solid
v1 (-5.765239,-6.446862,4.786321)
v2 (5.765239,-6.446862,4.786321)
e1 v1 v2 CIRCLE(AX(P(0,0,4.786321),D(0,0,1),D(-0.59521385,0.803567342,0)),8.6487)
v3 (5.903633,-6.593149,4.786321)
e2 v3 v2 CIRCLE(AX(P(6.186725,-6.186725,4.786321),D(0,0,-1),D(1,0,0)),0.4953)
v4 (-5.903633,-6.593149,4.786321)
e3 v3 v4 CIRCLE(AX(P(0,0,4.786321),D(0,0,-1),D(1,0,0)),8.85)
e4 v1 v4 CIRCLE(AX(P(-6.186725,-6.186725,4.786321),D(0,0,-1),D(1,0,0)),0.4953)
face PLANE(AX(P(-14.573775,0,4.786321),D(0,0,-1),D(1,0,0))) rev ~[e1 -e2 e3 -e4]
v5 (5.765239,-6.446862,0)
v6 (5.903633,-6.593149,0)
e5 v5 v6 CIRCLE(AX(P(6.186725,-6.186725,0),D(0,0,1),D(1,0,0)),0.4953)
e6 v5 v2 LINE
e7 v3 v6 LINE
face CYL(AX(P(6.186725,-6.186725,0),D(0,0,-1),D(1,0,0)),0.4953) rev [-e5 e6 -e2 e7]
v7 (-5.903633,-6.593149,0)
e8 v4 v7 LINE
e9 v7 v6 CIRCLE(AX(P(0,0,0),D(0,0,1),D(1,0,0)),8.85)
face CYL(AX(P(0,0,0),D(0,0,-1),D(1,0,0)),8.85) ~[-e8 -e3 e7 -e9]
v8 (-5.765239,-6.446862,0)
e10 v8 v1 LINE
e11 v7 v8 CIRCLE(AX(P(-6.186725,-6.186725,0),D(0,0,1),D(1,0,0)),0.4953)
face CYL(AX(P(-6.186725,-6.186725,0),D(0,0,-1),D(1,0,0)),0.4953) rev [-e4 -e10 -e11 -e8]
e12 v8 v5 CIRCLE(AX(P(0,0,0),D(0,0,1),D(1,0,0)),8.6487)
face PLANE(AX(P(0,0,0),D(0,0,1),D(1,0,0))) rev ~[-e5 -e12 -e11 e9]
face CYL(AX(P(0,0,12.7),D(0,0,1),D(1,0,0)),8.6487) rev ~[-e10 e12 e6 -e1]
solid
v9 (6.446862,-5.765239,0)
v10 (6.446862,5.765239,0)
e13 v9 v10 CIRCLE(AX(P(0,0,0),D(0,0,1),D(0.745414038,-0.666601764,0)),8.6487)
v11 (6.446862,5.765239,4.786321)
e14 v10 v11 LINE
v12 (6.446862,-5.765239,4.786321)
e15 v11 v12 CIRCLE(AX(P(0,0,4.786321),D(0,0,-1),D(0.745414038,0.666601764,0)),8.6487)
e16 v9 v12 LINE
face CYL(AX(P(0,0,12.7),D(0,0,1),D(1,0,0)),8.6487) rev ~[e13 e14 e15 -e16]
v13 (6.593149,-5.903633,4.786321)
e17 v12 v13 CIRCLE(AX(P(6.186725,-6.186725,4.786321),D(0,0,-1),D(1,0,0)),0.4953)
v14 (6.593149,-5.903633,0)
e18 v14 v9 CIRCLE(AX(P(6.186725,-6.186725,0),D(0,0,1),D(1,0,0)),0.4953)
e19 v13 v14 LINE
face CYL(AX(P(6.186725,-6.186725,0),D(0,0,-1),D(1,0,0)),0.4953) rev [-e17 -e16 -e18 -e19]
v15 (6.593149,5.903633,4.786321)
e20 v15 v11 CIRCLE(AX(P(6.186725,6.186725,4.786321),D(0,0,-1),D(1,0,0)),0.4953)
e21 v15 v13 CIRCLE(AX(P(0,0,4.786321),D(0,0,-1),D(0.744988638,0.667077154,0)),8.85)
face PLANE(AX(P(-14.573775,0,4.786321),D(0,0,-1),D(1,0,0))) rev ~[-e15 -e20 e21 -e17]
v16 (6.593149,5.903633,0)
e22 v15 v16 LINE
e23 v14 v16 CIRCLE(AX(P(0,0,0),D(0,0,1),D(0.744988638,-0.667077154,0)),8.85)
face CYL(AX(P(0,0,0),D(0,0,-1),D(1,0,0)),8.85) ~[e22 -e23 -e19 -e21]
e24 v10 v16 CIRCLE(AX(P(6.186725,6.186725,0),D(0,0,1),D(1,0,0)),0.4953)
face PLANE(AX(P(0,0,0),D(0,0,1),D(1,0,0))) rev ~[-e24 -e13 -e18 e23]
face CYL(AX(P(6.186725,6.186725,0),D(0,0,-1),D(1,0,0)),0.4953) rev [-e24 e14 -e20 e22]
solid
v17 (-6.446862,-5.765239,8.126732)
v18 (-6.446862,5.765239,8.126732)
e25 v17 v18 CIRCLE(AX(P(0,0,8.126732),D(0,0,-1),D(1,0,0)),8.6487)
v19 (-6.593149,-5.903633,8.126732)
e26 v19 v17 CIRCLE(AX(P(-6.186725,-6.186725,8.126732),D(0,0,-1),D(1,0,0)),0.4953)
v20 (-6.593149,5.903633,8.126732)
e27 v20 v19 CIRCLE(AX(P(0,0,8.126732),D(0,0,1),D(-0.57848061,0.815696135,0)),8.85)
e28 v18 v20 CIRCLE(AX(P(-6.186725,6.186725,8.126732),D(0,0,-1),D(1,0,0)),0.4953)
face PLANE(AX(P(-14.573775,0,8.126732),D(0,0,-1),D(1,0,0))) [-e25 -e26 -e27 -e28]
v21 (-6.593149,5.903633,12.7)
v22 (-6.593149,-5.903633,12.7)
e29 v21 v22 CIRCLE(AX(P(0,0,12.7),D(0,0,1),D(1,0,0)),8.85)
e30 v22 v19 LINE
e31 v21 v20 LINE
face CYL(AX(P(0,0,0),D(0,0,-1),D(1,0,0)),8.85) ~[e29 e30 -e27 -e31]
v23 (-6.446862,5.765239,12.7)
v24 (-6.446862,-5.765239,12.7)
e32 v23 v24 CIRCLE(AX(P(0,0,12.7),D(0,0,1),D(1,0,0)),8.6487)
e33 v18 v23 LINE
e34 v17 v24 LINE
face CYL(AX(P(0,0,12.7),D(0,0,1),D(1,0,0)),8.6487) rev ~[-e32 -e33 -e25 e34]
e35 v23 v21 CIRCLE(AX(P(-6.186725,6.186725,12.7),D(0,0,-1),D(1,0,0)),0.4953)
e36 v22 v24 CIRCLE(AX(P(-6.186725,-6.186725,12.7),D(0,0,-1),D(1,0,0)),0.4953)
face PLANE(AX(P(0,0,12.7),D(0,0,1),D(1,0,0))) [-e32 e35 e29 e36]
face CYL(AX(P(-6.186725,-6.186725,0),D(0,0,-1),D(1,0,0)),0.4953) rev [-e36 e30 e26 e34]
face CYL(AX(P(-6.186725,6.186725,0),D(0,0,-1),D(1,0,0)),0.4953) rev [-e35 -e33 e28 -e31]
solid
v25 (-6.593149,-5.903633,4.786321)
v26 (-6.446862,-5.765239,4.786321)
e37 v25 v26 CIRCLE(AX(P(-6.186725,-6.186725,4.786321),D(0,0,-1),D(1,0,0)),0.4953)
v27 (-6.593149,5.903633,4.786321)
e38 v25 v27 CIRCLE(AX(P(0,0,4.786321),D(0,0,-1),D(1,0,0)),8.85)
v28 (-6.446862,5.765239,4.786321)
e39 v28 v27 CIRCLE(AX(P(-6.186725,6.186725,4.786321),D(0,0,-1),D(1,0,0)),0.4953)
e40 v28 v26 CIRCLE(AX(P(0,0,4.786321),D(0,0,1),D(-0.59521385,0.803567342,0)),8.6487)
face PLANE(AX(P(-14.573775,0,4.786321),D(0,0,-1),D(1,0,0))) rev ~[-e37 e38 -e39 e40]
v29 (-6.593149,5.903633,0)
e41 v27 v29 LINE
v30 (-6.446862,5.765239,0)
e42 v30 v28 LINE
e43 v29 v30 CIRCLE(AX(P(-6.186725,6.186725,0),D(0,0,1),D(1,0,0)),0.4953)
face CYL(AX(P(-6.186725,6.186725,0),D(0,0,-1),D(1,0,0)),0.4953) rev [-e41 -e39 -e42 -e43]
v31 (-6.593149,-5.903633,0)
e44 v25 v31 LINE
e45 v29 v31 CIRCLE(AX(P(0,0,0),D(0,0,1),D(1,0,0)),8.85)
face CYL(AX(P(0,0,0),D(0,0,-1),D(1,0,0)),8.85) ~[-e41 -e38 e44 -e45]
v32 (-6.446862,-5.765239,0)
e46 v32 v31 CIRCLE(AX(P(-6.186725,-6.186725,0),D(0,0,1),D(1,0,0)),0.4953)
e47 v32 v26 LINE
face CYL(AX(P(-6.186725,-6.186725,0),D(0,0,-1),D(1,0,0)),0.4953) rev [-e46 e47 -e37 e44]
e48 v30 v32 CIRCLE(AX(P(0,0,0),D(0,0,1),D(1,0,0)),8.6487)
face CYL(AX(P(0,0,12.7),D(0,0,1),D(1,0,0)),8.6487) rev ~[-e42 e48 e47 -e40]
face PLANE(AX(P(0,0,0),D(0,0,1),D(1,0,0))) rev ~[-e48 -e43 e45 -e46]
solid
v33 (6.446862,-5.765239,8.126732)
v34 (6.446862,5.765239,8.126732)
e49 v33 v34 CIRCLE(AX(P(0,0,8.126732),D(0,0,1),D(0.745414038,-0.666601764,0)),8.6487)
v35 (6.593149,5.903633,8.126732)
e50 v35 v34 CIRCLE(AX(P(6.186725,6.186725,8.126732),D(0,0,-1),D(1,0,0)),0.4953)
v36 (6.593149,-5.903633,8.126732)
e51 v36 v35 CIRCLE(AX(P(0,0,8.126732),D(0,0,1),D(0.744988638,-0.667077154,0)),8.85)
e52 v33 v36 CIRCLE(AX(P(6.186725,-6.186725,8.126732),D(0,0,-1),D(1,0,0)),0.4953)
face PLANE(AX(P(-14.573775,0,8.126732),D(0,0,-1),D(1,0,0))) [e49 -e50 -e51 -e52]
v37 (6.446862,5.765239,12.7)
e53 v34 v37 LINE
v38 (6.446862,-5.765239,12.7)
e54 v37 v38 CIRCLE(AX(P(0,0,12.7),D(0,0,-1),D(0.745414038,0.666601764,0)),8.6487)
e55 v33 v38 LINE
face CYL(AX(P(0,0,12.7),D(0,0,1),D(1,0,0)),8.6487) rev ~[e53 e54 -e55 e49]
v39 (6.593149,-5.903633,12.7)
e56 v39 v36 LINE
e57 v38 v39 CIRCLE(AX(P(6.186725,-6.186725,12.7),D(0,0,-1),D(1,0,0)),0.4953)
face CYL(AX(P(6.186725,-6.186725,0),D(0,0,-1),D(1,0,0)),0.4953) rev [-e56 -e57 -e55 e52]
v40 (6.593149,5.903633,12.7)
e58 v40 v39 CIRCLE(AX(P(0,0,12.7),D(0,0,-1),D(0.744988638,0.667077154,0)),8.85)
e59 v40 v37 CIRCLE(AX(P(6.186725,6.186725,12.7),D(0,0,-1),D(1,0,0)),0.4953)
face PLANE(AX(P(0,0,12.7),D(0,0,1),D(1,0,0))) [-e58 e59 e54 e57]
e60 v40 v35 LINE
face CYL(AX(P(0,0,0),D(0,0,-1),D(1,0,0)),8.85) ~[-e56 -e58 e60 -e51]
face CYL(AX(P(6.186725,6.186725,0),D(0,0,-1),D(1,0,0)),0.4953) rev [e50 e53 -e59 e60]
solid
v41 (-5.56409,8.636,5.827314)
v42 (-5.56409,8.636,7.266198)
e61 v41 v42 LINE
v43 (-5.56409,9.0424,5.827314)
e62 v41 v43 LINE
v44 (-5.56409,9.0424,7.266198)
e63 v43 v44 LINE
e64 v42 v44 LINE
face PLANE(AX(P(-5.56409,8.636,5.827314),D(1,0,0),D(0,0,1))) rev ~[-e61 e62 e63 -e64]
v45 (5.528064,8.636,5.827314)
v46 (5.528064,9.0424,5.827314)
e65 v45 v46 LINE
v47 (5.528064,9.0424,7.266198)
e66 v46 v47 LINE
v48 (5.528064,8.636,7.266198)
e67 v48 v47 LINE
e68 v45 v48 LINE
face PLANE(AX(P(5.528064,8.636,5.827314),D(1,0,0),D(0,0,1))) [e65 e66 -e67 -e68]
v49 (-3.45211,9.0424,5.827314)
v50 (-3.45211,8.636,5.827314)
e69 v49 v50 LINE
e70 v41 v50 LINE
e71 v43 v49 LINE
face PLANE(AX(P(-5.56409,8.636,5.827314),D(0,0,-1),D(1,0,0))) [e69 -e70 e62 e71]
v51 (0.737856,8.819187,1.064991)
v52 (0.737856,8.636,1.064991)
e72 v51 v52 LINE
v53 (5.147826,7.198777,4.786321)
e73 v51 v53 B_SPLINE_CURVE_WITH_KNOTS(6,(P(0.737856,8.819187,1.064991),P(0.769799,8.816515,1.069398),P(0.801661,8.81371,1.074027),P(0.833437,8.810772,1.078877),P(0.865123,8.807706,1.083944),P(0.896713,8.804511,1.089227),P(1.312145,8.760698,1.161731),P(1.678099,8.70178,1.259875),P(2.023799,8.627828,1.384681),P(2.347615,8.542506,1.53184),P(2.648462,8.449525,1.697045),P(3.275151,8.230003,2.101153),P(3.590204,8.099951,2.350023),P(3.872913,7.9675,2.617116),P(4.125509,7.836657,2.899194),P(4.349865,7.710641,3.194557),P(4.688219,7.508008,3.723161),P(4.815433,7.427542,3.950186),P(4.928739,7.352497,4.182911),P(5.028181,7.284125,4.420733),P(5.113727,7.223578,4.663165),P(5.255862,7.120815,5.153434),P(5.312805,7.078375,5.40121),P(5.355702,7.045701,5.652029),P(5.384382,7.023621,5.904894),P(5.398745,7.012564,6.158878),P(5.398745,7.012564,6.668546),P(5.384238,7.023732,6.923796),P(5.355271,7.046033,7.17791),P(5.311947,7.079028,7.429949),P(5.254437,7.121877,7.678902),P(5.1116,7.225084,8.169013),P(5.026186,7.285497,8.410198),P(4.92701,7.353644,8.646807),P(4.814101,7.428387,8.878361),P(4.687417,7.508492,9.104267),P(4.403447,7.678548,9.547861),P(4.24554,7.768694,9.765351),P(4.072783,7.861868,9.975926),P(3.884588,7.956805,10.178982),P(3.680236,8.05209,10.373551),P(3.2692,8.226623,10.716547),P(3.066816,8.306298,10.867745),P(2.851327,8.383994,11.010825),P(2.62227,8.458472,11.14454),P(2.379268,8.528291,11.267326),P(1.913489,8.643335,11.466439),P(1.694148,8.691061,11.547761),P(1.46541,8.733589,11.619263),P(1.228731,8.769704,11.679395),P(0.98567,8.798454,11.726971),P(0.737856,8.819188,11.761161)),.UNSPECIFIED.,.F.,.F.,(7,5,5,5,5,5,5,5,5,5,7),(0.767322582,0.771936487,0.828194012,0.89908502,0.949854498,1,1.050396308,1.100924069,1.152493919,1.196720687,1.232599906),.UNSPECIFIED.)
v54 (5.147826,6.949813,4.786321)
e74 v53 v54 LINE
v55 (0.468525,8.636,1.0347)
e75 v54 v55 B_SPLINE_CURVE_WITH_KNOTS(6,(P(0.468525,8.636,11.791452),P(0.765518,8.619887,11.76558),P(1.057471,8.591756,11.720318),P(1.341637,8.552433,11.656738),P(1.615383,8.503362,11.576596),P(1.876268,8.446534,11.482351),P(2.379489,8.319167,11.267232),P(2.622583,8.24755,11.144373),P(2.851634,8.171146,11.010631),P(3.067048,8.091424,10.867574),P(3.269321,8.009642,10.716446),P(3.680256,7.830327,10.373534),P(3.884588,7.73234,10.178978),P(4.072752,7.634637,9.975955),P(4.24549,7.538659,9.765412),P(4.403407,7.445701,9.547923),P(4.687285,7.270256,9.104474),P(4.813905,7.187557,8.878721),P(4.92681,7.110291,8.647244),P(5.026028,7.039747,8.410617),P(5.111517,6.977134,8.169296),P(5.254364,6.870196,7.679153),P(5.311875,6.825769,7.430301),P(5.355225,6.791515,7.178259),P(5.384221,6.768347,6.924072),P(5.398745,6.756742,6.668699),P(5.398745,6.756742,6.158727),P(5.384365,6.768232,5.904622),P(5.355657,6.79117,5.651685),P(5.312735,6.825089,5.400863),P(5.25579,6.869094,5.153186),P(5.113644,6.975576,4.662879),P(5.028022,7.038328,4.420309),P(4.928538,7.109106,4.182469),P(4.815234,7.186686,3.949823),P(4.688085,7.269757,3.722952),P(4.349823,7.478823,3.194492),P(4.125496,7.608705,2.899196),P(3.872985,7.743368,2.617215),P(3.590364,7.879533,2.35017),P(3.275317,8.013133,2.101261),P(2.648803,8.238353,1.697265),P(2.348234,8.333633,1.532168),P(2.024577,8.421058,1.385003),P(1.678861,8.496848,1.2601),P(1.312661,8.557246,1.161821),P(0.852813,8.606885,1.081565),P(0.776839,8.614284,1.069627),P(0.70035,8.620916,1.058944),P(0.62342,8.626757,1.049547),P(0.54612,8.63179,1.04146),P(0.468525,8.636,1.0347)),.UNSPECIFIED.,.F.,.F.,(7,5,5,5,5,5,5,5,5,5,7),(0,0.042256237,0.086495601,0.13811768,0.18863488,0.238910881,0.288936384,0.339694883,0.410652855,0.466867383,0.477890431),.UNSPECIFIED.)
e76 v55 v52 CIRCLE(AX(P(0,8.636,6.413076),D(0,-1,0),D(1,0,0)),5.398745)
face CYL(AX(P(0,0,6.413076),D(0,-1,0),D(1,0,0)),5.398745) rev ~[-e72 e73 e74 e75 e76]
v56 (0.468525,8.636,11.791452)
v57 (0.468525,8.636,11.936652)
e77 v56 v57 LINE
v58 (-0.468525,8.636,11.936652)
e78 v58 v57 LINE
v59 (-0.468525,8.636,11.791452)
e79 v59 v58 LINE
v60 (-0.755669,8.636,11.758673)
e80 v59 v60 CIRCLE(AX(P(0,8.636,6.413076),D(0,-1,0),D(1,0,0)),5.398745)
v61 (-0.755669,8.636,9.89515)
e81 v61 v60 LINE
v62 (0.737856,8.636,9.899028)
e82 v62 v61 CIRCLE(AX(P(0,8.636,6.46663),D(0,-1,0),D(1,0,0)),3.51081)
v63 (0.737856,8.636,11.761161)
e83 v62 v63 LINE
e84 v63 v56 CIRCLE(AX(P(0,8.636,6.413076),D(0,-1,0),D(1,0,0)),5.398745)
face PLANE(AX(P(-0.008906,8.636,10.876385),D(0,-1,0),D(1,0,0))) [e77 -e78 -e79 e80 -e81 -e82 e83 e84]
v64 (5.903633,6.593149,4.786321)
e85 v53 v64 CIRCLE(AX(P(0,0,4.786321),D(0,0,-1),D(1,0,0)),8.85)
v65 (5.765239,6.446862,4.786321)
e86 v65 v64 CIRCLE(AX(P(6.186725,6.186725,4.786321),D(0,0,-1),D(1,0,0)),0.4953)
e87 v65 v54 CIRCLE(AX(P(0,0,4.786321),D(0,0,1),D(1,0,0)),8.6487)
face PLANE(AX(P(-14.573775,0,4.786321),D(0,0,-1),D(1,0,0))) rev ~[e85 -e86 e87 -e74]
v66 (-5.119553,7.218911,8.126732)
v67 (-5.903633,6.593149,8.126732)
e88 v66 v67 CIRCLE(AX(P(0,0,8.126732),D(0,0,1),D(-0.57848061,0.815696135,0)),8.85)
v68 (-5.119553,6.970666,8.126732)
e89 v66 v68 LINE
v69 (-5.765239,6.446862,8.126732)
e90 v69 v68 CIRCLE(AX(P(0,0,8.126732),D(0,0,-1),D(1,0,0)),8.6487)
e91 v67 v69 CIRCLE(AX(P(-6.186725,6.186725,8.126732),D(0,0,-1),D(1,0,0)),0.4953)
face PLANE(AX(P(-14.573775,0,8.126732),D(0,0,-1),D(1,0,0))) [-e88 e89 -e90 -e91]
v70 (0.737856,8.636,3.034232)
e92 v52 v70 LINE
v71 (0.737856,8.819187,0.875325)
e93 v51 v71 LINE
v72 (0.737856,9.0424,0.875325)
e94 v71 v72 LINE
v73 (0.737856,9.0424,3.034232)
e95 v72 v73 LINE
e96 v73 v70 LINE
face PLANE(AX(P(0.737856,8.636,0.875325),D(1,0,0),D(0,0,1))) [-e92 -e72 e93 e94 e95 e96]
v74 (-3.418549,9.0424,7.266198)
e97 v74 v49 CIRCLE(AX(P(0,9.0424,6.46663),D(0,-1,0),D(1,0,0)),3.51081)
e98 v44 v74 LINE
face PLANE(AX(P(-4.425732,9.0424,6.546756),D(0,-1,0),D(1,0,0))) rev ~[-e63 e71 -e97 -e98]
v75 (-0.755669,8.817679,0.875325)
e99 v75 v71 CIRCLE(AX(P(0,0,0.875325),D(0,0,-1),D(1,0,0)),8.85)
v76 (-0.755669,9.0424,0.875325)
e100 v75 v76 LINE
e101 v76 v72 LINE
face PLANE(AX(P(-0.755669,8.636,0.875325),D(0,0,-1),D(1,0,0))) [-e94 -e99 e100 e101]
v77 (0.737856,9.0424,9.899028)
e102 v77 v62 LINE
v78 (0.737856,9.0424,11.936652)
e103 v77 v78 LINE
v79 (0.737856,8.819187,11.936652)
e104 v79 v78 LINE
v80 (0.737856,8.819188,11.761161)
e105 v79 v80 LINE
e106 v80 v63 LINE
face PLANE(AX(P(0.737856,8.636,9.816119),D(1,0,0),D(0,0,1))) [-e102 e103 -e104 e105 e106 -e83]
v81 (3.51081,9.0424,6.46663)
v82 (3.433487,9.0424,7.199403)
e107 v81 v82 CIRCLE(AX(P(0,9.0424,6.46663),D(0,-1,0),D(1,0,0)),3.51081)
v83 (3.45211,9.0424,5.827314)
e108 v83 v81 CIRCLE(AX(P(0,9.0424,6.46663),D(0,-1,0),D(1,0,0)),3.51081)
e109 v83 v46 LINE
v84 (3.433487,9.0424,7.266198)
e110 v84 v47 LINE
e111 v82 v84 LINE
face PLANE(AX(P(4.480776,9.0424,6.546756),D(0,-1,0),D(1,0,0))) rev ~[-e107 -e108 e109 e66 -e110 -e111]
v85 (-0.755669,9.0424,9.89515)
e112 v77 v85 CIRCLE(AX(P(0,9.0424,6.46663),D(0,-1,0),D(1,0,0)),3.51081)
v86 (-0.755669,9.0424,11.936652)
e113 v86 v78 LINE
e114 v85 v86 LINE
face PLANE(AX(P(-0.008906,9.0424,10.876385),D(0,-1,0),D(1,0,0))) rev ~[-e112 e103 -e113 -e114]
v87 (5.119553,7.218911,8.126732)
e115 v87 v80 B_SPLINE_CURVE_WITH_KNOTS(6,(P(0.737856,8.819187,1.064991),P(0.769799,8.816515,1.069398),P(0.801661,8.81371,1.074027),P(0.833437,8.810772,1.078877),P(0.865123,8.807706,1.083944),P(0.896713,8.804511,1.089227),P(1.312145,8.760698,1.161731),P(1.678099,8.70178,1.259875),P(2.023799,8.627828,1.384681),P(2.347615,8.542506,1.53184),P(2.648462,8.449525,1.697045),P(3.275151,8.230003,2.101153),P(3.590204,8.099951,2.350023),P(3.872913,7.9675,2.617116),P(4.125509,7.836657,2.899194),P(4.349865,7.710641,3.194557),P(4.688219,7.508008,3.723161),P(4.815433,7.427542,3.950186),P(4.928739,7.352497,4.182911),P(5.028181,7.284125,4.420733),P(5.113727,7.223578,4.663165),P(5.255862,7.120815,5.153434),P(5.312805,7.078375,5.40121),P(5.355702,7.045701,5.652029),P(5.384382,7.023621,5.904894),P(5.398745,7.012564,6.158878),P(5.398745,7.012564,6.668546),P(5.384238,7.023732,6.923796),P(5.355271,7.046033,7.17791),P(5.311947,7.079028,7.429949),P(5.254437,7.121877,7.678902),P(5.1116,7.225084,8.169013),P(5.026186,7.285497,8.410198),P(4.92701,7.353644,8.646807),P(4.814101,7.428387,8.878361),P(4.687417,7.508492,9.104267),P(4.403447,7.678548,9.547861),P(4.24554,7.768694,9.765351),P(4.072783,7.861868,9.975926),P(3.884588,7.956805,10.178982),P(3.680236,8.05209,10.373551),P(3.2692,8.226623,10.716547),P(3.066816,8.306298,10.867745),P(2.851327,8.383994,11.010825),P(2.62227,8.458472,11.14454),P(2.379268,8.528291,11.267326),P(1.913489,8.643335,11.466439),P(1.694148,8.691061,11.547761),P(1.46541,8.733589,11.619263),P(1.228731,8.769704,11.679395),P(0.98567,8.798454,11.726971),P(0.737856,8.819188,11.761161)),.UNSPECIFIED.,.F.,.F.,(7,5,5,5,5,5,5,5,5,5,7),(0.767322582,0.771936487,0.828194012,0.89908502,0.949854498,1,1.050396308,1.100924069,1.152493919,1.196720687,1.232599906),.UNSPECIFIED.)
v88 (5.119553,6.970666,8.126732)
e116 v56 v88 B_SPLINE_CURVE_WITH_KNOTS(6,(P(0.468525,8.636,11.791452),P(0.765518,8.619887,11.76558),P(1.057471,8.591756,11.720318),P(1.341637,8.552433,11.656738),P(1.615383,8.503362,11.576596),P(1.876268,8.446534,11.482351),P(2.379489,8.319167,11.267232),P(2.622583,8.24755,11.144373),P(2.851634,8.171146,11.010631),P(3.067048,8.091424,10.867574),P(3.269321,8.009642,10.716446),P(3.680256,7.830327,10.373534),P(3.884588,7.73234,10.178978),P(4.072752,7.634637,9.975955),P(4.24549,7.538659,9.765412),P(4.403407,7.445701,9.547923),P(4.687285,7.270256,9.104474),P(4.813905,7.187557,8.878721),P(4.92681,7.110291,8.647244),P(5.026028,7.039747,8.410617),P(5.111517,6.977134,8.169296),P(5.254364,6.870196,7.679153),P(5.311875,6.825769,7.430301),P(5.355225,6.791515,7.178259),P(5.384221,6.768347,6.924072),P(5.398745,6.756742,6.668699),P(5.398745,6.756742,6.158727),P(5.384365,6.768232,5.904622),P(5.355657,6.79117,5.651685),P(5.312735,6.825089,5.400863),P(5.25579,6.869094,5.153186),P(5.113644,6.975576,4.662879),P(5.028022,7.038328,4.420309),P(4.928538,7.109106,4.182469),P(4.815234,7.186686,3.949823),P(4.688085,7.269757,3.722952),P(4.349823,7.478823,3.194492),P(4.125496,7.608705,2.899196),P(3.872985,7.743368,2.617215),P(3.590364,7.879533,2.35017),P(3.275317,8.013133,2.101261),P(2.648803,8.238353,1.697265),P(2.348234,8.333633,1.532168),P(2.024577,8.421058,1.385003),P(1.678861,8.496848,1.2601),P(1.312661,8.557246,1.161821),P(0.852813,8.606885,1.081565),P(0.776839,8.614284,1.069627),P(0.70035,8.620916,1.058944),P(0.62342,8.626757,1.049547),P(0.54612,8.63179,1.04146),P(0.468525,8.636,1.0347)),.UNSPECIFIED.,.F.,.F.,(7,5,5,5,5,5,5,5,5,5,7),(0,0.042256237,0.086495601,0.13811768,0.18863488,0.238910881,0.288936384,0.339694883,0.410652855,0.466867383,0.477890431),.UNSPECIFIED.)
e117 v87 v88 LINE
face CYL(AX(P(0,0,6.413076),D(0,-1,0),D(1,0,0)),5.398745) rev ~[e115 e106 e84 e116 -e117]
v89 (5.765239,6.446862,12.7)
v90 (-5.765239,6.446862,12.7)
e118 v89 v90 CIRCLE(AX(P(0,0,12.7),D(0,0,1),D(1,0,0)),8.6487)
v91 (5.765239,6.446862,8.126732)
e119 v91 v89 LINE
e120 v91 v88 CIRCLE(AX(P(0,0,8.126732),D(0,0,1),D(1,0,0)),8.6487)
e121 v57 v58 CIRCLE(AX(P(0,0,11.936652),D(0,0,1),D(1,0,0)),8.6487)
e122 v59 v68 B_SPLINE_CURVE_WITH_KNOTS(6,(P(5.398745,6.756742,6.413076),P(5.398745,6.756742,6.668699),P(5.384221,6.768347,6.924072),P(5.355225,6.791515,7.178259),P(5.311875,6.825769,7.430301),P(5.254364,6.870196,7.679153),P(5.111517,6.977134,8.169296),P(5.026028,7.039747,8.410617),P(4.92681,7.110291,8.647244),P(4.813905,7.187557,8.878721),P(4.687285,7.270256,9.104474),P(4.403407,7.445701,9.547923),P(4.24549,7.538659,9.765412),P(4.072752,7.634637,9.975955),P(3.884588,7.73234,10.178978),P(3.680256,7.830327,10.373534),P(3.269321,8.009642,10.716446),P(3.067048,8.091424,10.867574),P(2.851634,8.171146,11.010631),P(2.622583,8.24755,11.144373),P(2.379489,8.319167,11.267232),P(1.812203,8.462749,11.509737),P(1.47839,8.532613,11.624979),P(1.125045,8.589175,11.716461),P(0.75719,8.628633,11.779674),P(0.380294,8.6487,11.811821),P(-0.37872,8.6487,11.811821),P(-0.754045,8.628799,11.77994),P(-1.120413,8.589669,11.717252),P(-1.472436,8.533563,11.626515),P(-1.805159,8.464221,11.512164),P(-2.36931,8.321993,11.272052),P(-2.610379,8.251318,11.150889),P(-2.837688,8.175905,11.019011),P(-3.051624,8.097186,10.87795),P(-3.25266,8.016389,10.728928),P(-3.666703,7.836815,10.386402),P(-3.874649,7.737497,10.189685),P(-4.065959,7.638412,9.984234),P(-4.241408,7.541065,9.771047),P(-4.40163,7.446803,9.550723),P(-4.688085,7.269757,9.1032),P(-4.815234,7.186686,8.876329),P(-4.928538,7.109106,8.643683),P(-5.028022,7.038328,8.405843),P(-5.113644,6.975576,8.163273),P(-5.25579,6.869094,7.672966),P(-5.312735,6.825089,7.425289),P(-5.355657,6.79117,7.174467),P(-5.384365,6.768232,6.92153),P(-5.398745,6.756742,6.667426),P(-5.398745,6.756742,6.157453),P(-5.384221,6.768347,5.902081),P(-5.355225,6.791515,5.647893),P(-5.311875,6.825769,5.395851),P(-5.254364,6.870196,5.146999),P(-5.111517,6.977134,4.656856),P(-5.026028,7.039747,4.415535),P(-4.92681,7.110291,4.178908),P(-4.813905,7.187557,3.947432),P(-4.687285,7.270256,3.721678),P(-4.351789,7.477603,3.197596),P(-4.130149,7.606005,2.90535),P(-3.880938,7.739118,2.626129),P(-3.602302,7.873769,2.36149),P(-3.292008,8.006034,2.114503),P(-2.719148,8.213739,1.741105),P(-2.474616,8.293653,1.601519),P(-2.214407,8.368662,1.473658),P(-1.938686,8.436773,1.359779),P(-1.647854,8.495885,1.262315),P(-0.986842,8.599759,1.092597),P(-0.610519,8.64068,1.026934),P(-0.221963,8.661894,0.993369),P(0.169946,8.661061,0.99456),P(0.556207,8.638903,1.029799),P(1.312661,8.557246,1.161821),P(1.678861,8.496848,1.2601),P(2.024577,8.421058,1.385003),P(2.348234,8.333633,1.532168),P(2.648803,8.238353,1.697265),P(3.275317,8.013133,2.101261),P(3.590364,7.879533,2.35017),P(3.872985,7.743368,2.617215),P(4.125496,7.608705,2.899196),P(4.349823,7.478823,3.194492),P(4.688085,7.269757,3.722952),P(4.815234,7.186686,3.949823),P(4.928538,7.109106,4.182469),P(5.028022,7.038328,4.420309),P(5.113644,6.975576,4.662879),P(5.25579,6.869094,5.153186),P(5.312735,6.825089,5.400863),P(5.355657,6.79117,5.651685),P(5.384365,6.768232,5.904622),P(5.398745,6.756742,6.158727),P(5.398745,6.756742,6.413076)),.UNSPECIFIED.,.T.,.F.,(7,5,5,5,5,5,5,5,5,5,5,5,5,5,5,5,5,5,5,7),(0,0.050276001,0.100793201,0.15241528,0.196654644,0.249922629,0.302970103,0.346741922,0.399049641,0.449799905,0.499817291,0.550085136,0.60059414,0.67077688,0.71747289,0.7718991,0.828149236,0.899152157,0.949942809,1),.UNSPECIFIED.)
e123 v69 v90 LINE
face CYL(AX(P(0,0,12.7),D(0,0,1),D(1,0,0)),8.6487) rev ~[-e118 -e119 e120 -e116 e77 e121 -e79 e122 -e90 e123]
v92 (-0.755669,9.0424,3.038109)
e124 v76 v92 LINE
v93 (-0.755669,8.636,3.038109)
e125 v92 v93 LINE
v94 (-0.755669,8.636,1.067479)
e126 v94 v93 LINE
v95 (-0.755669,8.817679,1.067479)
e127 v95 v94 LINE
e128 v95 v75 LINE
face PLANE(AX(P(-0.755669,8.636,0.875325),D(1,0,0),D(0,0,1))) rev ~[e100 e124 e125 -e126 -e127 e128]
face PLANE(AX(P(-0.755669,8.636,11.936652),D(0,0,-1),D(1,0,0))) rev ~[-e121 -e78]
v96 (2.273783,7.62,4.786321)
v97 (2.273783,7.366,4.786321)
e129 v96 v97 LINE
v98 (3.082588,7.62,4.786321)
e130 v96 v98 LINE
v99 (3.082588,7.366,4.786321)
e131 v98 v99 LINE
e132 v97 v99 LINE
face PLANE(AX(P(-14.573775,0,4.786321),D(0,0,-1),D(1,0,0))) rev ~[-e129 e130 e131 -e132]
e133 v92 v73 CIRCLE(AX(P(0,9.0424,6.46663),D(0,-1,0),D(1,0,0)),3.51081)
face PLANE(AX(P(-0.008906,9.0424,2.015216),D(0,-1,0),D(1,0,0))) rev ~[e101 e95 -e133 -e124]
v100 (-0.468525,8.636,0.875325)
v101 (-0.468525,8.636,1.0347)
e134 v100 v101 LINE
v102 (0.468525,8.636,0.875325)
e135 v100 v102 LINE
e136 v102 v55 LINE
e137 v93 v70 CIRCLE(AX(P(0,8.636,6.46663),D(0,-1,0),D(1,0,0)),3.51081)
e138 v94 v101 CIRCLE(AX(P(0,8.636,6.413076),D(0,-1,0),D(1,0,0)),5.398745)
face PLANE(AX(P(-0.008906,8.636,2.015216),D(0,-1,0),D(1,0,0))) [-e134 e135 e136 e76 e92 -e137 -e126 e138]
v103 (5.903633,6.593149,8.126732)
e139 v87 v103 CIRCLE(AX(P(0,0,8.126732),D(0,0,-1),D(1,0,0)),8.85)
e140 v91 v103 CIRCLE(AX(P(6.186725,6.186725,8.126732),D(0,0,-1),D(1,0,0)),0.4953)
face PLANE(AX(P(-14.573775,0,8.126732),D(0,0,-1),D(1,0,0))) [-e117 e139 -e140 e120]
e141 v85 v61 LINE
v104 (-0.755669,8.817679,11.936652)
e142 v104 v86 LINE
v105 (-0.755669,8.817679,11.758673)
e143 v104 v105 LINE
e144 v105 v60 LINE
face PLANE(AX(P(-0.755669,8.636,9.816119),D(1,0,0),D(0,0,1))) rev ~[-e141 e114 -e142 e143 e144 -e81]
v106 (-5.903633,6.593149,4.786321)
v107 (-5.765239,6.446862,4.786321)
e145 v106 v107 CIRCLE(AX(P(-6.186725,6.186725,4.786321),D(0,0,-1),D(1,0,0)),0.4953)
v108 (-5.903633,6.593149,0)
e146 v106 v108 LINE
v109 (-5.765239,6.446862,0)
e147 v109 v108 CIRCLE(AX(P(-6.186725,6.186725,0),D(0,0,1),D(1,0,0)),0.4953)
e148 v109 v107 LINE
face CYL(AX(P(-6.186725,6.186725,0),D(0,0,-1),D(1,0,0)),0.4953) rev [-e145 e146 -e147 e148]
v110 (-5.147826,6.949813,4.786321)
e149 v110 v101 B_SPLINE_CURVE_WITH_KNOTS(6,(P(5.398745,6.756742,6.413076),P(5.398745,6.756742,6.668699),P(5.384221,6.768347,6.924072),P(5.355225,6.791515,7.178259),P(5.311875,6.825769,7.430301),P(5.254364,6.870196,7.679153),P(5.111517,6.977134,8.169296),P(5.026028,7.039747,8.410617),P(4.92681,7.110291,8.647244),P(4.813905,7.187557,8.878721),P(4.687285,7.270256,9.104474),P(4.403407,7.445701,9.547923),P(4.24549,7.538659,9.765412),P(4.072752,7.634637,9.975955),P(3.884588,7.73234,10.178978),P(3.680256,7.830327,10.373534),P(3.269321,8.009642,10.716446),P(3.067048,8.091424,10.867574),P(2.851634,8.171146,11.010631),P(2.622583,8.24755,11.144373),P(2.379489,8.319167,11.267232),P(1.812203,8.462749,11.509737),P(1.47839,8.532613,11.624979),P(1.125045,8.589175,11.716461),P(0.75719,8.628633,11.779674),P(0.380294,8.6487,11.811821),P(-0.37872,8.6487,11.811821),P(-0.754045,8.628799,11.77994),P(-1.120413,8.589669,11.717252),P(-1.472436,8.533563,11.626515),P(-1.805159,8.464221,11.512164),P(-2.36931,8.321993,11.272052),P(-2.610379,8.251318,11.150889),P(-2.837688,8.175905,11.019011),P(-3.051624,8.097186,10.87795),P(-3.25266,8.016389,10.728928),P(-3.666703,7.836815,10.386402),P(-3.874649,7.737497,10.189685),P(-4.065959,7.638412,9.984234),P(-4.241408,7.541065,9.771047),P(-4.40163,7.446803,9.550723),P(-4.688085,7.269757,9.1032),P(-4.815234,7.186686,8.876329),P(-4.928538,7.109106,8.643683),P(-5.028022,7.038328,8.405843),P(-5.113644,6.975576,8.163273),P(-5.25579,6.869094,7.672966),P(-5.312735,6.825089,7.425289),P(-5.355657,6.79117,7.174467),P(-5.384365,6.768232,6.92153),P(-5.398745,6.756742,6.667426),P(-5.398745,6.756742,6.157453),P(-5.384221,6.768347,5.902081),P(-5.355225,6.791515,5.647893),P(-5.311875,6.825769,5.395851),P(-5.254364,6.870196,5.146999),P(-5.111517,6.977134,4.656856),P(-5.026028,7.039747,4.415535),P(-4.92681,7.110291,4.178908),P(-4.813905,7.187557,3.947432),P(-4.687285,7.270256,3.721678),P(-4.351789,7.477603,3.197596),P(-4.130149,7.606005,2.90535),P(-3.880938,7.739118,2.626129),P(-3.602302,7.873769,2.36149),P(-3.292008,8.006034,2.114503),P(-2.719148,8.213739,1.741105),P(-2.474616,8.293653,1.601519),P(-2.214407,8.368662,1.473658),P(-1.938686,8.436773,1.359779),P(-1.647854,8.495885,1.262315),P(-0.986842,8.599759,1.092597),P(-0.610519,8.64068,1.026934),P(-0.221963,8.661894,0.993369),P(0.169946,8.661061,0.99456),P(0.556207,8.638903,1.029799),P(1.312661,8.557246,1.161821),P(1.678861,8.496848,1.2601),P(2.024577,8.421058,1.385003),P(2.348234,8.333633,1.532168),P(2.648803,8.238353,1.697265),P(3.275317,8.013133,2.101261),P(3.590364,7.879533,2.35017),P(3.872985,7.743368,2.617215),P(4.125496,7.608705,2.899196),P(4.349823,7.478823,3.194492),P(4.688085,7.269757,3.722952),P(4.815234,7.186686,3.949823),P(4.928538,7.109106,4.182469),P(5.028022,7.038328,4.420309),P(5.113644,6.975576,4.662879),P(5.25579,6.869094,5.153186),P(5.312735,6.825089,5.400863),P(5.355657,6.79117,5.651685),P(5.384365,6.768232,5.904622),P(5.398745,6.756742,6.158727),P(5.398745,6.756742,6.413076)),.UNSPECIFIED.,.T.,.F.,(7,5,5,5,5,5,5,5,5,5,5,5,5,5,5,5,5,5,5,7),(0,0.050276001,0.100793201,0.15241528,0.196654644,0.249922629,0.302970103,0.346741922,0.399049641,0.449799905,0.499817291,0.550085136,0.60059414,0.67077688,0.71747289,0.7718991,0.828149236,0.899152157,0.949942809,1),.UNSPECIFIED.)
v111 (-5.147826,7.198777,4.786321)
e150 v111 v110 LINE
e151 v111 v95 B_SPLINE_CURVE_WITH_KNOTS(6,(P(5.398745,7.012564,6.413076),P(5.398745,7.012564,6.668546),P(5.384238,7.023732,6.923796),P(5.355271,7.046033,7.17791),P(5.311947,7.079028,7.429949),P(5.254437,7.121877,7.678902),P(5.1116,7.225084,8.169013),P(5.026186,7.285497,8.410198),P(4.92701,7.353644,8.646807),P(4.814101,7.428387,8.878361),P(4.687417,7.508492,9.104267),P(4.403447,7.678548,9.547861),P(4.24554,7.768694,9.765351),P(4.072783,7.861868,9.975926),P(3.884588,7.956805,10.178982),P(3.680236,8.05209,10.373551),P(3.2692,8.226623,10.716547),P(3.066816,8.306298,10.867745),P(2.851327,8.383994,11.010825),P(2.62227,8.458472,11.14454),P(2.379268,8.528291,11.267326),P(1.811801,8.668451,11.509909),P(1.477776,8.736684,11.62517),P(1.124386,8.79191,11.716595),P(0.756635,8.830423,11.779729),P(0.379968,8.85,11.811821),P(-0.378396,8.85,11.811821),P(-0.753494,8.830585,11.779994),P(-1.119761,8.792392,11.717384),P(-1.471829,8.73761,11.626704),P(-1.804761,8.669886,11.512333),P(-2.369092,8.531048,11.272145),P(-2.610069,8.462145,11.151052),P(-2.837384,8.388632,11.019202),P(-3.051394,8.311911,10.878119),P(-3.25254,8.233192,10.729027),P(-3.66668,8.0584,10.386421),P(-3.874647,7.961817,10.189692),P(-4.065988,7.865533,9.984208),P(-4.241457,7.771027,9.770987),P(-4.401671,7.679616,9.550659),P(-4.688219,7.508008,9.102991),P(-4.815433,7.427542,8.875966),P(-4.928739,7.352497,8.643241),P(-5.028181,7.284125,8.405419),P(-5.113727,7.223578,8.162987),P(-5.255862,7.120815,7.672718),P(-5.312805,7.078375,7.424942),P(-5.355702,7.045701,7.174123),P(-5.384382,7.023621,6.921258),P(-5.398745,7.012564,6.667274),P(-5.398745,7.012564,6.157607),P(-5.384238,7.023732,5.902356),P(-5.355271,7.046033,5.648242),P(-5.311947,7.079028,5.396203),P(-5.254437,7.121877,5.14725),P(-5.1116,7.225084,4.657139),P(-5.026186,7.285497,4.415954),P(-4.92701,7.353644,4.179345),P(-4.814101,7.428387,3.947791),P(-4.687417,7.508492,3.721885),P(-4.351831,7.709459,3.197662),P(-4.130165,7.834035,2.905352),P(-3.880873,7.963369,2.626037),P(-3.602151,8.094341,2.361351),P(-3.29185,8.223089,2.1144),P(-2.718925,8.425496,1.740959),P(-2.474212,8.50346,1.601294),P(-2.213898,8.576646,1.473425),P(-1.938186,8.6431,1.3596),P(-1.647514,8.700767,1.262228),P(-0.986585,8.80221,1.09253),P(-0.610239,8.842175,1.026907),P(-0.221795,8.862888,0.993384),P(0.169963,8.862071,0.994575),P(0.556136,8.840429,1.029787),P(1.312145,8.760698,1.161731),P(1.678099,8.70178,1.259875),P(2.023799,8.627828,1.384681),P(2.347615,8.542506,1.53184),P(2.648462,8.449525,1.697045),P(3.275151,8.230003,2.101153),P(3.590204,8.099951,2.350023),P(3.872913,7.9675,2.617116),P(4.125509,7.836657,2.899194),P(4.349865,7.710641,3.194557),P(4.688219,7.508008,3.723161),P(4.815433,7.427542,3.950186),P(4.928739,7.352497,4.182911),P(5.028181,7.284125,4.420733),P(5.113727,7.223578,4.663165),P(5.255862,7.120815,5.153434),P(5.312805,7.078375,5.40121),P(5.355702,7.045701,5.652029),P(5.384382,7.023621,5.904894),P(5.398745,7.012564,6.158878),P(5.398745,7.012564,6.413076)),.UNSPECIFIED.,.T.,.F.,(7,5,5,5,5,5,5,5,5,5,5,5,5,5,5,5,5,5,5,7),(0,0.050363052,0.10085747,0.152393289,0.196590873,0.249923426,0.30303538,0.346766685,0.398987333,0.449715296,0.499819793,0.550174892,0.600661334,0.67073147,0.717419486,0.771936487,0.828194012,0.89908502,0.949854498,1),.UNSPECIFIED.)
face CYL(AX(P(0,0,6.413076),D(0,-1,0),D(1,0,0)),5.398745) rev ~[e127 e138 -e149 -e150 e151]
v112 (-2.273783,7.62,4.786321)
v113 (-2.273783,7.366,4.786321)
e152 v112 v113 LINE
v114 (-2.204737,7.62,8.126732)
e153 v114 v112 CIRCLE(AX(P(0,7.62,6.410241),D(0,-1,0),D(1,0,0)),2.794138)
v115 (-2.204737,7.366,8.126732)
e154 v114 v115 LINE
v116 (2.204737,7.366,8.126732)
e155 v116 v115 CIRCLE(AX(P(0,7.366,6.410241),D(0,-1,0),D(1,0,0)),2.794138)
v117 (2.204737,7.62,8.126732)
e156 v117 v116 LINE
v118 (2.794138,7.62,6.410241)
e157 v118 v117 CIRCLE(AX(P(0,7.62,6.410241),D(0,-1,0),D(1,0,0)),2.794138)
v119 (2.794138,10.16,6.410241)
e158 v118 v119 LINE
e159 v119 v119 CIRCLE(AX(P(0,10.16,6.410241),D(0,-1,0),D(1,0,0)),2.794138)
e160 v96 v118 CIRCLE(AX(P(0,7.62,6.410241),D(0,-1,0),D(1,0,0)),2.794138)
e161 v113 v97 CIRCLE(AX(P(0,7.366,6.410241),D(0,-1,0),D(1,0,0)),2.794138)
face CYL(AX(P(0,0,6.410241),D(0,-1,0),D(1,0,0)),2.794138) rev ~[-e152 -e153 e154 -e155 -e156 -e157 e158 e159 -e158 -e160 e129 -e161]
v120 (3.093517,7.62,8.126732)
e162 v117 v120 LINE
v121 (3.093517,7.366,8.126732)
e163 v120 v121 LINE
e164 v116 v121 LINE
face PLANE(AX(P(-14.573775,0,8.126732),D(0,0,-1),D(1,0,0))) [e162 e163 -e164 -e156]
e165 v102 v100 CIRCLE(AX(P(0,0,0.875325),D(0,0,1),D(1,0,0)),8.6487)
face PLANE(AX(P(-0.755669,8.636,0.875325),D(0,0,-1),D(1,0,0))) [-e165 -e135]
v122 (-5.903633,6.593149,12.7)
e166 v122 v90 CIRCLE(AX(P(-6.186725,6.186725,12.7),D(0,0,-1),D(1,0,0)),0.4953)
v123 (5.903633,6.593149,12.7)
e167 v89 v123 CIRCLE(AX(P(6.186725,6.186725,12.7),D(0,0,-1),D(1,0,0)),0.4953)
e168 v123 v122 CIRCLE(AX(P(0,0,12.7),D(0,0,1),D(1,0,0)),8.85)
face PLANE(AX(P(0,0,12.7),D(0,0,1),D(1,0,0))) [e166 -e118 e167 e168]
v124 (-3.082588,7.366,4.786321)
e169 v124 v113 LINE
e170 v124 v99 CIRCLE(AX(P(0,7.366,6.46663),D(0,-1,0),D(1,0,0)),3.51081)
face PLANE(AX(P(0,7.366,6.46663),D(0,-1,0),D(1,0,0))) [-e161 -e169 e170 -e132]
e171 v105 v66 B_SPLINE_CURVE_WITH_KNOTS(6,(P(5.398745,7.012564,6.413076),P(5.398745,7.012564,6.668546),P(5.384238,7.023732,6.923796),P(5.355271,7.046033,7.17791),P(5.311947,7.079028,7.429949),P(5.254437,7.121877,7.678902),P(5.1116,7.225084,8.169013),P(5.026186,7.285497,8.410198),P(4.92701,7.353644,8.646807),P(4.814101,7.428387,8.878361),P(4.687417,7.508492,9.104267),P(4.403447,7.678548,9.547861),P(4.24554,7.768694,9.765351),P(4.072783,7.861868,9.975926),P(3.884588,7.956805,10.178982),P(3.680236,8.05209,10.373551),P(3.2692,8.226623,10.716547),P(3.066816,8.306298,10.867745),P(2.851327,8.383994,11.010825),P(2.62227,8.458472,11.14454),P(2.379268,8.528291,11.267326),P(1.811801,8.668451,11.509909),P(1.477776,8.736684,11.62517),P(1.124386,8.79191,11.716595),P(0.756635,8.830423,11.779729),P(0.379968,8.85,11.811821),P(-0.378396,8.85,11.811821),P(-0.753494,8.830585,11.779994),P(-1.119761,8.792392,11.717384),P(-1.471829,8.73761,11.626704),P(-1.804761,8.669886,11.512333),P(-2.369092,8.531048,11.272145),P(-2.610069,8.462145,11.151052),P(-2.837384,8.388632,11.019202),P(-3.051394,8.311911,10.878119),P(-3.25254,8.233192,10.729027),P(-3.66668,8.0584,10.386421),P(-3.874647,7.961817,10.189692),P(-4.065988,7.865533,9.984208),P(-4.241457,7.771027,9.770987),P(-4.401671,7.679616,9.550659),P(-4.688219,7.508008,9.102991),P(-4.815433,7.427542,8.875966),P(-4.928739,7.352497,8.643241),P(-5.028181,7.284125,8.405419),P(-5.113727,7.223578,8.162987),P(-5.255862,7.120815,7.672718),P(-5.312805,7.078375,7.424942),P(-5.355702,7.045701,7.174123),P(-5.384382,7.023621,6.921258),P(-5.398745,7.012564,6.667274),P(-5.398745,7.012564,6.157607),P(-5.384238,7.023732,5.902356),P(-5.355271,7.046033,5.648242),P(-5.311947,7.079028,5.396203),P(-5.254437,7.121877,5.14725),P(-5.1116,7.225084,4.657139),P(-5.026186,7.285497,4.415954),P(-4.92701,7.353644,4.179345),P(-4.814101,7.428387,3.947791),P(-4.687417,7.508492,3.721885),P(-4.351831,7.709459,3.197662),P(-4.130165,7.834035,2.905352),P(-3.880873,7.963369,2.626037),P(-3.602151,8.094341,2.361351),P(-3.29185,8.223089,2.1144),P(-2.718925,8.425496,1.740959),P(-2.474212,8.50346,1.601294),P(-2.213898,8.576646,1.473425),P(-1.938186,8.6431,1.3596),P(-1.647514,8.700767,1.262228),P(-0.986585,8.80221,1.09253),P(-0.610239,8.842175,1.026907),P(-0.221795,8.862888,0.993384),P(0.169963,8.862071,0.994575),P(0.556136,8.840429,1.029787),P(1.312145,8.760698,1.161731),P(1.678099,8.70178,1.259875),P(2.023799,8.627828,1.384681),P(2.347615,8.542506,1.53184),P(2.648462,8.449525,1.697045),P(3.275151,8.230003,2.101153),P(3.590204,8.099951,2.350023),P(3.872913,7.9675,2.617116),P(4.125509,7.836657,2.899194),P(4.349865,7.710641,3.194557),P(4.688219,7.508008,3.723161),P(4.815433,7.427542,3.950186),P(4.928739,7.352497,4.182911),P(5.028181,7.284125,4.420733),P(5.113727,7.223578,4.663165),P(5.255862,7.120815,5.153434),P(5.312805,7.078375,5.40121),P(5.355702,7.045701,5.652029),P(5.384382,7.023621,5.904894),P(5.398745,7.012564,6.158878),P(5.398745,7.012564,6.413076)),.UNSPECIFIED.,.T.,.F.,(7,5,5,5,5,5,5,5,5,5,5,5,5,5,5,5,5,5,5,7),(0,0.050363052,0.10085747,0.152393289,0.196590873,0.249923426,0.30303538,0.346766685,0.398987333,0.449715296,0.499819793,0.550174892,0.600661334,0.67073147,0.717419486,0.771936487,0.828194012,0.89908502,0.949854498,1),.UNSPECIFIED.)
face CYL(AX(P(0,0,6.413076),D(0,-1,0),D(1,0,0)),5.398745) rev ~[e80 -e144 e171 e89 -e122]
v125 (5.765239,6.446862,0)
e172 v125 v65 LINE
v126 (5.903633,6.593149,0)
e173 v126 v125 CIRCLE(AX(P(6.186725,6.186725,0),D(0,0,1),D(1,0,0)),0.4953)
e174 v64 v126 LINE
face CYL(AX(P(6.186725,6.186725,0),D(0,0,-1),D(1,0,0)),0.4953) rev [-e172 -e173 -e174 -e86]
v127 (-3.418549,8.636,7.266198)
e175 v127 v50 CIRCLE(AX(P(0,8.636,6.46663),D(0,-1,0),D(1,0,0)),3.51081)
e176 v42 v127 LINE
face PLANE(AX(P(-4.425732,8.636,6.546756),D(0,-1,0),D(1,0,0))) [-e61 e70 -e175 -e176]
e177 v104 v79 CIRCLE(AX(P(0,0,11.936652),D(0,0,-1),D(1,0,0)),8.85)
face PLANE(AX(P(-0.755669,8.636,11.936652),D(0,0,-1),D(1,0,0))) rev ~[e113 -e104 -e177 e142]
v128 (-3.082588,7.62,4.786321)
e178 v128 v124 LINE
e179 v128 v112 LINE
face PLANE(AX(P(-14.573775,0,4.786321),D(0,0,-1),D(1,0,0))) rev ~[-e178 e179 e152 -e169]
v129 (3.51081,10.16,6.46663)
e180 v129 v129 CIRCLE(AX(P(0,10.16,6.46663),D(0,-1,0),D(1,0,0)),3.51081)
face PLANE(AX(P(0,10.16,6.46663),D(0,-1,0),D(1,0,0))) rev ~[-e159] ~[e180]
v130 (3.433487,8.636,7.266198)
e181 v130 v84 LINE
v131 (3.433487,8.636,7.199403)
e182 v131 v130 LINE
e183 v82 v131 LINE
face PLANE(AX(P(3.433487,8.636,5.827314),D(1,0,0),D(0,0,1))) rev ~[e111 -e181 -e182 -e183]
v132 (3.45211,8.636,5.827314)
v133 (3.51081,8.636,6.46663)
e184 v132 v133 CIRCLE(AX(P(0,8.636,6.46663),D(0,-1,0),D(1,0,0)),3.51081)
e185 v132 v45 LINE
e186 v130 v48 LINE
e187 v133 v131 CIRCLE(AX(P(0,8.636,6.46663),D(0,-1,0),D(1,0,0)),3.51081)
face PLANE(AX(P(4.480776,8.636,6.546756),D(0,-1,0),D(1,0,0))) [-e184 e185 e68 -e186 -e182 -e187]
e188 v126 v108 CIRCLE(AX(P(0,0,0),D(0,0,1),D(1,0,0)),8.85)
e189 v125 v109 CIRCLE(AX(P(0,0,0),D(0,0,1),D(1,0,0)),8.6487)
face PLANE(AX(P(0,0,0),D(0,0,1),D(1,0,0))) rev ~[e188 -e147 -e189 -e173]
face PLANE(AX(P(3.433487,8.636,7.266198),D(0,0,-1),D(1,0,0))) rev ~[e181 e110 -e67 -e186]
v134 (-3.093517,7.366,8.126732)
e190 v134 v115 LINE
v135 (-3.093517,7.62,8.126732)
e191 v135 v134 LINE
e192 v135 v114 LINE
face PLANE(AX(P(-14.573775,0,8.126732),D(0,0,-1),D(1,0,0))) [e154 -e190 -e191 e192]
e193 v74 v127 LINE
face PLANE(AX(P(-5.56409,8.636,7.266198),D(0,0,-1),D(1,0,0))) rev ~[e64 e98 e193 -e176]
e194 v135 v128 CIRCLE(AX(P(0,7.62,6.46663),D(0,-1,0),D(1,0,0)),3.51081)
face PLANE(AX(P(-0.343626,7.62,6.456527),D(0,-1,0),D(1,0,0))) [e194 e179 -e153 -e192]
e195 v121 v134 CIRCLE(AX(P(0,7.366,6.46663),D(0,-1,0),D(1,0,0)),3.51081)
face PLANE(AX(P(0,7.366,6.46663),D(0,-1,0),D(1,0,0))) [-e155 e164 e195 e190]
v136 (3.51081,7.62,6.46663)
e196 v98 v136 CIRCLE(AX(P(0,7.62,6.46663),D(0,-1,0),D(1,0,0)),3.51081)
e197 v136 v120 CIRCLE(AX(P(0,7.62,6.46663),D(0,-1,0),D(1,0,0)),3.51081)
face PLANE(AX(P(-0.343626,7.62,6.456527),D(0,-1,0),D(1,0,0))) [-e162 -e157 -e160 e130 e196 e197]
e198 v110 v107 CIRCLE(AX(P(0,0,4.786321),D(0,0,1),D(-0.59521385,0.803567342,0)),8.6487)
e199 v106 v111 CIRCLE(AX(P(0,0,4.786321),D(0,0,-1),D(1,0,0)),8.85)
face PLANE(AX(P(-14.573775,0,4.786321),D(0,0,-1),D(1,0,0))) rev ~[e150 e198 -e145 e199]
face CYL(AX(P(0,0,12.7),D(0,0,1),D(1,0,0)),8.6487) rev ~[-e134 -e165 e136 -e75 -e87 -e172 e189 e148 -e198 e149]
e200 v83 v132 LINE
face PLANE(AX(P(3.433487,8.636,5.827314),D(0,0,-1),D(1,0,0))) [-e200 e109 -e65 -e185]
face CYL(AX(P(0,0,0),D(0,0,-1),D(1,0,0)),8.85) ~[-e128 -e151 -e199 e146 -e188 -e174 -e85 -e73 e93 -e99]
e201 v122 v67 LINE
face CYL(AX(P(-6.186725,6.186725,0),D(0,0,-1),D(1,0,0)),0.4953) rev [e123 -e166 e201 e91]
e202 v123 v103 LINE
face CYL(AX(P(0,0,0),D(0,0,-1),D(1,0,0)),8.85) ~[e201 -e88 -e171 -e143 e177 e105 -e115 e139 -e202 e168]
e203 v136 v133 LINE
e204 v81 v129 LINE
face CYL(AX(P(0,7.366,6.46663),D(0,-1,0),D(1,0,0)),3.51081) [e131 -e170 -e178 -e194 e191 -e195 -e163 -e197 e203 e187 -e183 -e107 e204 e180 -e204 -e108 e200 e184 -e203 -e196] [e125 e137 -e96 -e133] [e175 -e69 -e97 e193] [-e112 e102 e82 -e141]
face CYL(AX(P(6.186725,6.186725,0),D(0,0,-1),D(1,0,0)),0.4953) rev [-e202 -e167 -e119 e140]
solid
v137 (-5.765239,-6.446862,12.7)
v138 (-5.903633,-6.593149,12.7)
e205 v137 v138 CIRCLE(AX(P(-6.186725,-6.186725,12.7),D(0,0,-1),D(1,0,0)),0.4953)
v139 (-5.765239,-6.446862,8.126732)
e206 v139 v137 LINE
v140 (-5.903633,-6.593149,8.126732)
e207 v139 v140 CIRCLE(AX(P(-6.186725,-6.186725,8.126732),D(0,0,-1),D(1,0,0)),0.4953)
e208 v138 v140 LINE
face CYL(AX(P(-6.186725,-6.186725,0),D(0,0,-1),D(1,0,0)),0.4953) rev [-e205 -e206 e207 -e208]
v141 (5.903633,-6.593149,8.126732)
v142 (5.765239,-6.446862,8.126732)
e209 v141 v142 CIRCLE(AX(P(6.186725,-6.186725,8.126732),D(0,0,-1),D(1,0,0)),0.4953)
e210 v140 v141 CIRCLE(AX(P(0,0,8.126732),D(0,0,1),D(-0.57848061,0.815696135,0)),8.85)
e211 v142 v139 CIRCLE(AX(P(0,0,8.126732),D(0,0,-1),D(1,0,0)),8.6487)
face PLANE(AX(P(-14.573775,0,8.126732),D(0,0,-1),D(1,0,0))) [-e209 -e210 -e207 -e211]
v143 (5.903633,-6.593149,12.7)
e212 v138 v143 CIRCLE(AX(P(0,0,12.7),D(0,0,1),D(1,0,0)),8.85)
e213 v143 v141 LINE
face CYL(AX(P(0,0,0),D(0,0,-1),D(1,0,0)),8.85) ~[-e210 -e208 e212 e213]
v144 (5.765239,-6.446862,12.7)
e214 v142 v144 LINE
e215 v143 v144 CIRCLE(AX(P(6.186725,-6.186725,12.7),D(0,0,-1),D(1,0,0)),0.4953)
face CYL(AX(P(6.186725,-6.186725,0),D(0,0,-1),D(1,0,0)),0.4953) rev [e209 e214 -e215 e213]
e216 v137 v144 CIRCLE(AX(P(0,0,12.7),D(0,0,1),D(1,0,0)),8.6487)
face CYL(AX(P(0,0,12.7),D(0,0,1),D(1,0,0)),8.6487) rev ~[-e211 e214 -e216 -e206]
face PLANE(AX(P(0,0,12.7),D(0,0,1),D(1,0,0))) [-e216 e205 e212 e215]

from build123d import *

# Parameters (mm, degrees)
F0_R           = 8.85
F1_DEPTH       = 12.7
F2_R           = 8.6487
F3_DEPTH       = 25.4
F4_R           = 5.3987446143
F5_DEPTH       = 25.4
F7_START       = -8.636
F6_W           = 2.0945777651
F6_H           = 1.4388835989
F7_DEPTH       = 0.4064
F6_W_2         = 2.2767148912
F6_W_3         = 1.4935249928
F6_H_2         = 2.1205339581
F6_H_3         = 2.2797814454
F9_START       = -7.366
F8_R           = 3.5108101387
F9_DEPTH       = 2.794
F10_R          = 2.7941375303
F11_DEPTH      = 10.16
F12_W          = 28.4602986649
F12_H          = 3.3404105343
F13_DEPTH      = 25.4
F13_DEPTH_BACK = 7.62
F14_R          = 0.4953
F15_DEPTH      = 40.132


with BuildPart() as f1:
    # F0 (on Top) → F1 (new body)
    with BuildSketch(Plane.XY):
        Circle(F0_R)
    extrude(amount=F1_DEPTH)

    # F2 (on face) → F3 (cut)
    with BuildSketch(Plane.XY.offset(12.7)):
        Circle(F2_R)
    extrude(amount=-F3_DEPTH, mode=Mode.SUBTRACT)

    # F4 (on Front) → F5 (cut)
    with BuildSketch(Plane.XZ):
        with Locations((0, 6.4130760729)):
            Circle(F4_R)
    extrude(amount=-F5_DEPTH, mode=Mode.SUBTRACT)

    # F6 (on Front) → F7, piece 3 (join)
    with BuildSketch(Plane.XZ.offset(F7_START)):
        with Locations((-0.0089060632, 10.8763854951)):
            Rectangle(F6_W_3, F6_H_2)
        with Locations((-0.0089060632, 2.0152161887)):
            Rectangle(F6_W_3, F6_H_3)
    extrude(amount=-F7_DEPTH)



with BuildPart() as f7:
    # F6 (on Front) → F7 (new body)
    with BuildSketch(Plane.XZ.offset(F7_START)):
        with Locations((4.4807755621, 6.5467560198)):
            Rectangle(F6_W, F6_H)
    extrude(amount=-F7_DEPTH)


with BuildPart() as f7b:
    # F6 (on Front) → F7, piece 2 (new body)
    with BuildSketch(Plane.XZ.offset(F7_START)):
        with Locations((-4.4257324189, 6.5467560198)):
            Rectangle(F6_W_2, F6_H)
    extrude(amount=-F7_DEPTH)


with BuildPart() as f1_1:
    add(f1.part)

    add(f7.part)  # F9 merges F7

    add(f7b.part)  # F9 merges F7b
    # F8 (on Front) → F9 (join)
    with BuildSketch(Plane.XZ.offset(F9_START)):
        with Locations((0, 6.4666298567)):
            Circle(F8_R)
    extrude(amount=-F9_DEPTH)

    # F10 (on Front) → F11 (cut, through all)
    with BuildSketch(Plane.XZ):
        with Locations((0, 6.410241127)):
            Circle(F10_R)
    extrude(amount=-F11_DEPTH, mode=Mode.SUBTRACT)

    # F12 (on Front) → F13 (cut, two sides)
    with BuildSketch(Plane.XZ) as f13_sk:
        with Locations((-0.3436258994, 6.4565266948)):
            Rectangle(F12_W, F12_H)
    extrude(amount=F13_DEPTH, mode=Mode.SUBTRACT)
    extrude(f13_sk.sketch, amount=-F13_DEPTH_BACK, mode=Mode.SUBTRACT)

    # F14 (on Top) → F15 (cut)
    with BuildSketch(Plane.XY):
        with Locations((6.186724716, 6.186724716)):
            Circle(F14_R)
        with Locations((6.186724716, -6.186724716)):
            Circle(F14_R)
        with Locations((-6.186724716, -6.186724716)):
            Circle(F14_R)
        with Locations((-6.186724716, 6.186724716)):
            Circle(F14_R)
    extrude(amount=F15_DEPTH, mode=Mode.SUBTRACT)


solid = f1_1.part
